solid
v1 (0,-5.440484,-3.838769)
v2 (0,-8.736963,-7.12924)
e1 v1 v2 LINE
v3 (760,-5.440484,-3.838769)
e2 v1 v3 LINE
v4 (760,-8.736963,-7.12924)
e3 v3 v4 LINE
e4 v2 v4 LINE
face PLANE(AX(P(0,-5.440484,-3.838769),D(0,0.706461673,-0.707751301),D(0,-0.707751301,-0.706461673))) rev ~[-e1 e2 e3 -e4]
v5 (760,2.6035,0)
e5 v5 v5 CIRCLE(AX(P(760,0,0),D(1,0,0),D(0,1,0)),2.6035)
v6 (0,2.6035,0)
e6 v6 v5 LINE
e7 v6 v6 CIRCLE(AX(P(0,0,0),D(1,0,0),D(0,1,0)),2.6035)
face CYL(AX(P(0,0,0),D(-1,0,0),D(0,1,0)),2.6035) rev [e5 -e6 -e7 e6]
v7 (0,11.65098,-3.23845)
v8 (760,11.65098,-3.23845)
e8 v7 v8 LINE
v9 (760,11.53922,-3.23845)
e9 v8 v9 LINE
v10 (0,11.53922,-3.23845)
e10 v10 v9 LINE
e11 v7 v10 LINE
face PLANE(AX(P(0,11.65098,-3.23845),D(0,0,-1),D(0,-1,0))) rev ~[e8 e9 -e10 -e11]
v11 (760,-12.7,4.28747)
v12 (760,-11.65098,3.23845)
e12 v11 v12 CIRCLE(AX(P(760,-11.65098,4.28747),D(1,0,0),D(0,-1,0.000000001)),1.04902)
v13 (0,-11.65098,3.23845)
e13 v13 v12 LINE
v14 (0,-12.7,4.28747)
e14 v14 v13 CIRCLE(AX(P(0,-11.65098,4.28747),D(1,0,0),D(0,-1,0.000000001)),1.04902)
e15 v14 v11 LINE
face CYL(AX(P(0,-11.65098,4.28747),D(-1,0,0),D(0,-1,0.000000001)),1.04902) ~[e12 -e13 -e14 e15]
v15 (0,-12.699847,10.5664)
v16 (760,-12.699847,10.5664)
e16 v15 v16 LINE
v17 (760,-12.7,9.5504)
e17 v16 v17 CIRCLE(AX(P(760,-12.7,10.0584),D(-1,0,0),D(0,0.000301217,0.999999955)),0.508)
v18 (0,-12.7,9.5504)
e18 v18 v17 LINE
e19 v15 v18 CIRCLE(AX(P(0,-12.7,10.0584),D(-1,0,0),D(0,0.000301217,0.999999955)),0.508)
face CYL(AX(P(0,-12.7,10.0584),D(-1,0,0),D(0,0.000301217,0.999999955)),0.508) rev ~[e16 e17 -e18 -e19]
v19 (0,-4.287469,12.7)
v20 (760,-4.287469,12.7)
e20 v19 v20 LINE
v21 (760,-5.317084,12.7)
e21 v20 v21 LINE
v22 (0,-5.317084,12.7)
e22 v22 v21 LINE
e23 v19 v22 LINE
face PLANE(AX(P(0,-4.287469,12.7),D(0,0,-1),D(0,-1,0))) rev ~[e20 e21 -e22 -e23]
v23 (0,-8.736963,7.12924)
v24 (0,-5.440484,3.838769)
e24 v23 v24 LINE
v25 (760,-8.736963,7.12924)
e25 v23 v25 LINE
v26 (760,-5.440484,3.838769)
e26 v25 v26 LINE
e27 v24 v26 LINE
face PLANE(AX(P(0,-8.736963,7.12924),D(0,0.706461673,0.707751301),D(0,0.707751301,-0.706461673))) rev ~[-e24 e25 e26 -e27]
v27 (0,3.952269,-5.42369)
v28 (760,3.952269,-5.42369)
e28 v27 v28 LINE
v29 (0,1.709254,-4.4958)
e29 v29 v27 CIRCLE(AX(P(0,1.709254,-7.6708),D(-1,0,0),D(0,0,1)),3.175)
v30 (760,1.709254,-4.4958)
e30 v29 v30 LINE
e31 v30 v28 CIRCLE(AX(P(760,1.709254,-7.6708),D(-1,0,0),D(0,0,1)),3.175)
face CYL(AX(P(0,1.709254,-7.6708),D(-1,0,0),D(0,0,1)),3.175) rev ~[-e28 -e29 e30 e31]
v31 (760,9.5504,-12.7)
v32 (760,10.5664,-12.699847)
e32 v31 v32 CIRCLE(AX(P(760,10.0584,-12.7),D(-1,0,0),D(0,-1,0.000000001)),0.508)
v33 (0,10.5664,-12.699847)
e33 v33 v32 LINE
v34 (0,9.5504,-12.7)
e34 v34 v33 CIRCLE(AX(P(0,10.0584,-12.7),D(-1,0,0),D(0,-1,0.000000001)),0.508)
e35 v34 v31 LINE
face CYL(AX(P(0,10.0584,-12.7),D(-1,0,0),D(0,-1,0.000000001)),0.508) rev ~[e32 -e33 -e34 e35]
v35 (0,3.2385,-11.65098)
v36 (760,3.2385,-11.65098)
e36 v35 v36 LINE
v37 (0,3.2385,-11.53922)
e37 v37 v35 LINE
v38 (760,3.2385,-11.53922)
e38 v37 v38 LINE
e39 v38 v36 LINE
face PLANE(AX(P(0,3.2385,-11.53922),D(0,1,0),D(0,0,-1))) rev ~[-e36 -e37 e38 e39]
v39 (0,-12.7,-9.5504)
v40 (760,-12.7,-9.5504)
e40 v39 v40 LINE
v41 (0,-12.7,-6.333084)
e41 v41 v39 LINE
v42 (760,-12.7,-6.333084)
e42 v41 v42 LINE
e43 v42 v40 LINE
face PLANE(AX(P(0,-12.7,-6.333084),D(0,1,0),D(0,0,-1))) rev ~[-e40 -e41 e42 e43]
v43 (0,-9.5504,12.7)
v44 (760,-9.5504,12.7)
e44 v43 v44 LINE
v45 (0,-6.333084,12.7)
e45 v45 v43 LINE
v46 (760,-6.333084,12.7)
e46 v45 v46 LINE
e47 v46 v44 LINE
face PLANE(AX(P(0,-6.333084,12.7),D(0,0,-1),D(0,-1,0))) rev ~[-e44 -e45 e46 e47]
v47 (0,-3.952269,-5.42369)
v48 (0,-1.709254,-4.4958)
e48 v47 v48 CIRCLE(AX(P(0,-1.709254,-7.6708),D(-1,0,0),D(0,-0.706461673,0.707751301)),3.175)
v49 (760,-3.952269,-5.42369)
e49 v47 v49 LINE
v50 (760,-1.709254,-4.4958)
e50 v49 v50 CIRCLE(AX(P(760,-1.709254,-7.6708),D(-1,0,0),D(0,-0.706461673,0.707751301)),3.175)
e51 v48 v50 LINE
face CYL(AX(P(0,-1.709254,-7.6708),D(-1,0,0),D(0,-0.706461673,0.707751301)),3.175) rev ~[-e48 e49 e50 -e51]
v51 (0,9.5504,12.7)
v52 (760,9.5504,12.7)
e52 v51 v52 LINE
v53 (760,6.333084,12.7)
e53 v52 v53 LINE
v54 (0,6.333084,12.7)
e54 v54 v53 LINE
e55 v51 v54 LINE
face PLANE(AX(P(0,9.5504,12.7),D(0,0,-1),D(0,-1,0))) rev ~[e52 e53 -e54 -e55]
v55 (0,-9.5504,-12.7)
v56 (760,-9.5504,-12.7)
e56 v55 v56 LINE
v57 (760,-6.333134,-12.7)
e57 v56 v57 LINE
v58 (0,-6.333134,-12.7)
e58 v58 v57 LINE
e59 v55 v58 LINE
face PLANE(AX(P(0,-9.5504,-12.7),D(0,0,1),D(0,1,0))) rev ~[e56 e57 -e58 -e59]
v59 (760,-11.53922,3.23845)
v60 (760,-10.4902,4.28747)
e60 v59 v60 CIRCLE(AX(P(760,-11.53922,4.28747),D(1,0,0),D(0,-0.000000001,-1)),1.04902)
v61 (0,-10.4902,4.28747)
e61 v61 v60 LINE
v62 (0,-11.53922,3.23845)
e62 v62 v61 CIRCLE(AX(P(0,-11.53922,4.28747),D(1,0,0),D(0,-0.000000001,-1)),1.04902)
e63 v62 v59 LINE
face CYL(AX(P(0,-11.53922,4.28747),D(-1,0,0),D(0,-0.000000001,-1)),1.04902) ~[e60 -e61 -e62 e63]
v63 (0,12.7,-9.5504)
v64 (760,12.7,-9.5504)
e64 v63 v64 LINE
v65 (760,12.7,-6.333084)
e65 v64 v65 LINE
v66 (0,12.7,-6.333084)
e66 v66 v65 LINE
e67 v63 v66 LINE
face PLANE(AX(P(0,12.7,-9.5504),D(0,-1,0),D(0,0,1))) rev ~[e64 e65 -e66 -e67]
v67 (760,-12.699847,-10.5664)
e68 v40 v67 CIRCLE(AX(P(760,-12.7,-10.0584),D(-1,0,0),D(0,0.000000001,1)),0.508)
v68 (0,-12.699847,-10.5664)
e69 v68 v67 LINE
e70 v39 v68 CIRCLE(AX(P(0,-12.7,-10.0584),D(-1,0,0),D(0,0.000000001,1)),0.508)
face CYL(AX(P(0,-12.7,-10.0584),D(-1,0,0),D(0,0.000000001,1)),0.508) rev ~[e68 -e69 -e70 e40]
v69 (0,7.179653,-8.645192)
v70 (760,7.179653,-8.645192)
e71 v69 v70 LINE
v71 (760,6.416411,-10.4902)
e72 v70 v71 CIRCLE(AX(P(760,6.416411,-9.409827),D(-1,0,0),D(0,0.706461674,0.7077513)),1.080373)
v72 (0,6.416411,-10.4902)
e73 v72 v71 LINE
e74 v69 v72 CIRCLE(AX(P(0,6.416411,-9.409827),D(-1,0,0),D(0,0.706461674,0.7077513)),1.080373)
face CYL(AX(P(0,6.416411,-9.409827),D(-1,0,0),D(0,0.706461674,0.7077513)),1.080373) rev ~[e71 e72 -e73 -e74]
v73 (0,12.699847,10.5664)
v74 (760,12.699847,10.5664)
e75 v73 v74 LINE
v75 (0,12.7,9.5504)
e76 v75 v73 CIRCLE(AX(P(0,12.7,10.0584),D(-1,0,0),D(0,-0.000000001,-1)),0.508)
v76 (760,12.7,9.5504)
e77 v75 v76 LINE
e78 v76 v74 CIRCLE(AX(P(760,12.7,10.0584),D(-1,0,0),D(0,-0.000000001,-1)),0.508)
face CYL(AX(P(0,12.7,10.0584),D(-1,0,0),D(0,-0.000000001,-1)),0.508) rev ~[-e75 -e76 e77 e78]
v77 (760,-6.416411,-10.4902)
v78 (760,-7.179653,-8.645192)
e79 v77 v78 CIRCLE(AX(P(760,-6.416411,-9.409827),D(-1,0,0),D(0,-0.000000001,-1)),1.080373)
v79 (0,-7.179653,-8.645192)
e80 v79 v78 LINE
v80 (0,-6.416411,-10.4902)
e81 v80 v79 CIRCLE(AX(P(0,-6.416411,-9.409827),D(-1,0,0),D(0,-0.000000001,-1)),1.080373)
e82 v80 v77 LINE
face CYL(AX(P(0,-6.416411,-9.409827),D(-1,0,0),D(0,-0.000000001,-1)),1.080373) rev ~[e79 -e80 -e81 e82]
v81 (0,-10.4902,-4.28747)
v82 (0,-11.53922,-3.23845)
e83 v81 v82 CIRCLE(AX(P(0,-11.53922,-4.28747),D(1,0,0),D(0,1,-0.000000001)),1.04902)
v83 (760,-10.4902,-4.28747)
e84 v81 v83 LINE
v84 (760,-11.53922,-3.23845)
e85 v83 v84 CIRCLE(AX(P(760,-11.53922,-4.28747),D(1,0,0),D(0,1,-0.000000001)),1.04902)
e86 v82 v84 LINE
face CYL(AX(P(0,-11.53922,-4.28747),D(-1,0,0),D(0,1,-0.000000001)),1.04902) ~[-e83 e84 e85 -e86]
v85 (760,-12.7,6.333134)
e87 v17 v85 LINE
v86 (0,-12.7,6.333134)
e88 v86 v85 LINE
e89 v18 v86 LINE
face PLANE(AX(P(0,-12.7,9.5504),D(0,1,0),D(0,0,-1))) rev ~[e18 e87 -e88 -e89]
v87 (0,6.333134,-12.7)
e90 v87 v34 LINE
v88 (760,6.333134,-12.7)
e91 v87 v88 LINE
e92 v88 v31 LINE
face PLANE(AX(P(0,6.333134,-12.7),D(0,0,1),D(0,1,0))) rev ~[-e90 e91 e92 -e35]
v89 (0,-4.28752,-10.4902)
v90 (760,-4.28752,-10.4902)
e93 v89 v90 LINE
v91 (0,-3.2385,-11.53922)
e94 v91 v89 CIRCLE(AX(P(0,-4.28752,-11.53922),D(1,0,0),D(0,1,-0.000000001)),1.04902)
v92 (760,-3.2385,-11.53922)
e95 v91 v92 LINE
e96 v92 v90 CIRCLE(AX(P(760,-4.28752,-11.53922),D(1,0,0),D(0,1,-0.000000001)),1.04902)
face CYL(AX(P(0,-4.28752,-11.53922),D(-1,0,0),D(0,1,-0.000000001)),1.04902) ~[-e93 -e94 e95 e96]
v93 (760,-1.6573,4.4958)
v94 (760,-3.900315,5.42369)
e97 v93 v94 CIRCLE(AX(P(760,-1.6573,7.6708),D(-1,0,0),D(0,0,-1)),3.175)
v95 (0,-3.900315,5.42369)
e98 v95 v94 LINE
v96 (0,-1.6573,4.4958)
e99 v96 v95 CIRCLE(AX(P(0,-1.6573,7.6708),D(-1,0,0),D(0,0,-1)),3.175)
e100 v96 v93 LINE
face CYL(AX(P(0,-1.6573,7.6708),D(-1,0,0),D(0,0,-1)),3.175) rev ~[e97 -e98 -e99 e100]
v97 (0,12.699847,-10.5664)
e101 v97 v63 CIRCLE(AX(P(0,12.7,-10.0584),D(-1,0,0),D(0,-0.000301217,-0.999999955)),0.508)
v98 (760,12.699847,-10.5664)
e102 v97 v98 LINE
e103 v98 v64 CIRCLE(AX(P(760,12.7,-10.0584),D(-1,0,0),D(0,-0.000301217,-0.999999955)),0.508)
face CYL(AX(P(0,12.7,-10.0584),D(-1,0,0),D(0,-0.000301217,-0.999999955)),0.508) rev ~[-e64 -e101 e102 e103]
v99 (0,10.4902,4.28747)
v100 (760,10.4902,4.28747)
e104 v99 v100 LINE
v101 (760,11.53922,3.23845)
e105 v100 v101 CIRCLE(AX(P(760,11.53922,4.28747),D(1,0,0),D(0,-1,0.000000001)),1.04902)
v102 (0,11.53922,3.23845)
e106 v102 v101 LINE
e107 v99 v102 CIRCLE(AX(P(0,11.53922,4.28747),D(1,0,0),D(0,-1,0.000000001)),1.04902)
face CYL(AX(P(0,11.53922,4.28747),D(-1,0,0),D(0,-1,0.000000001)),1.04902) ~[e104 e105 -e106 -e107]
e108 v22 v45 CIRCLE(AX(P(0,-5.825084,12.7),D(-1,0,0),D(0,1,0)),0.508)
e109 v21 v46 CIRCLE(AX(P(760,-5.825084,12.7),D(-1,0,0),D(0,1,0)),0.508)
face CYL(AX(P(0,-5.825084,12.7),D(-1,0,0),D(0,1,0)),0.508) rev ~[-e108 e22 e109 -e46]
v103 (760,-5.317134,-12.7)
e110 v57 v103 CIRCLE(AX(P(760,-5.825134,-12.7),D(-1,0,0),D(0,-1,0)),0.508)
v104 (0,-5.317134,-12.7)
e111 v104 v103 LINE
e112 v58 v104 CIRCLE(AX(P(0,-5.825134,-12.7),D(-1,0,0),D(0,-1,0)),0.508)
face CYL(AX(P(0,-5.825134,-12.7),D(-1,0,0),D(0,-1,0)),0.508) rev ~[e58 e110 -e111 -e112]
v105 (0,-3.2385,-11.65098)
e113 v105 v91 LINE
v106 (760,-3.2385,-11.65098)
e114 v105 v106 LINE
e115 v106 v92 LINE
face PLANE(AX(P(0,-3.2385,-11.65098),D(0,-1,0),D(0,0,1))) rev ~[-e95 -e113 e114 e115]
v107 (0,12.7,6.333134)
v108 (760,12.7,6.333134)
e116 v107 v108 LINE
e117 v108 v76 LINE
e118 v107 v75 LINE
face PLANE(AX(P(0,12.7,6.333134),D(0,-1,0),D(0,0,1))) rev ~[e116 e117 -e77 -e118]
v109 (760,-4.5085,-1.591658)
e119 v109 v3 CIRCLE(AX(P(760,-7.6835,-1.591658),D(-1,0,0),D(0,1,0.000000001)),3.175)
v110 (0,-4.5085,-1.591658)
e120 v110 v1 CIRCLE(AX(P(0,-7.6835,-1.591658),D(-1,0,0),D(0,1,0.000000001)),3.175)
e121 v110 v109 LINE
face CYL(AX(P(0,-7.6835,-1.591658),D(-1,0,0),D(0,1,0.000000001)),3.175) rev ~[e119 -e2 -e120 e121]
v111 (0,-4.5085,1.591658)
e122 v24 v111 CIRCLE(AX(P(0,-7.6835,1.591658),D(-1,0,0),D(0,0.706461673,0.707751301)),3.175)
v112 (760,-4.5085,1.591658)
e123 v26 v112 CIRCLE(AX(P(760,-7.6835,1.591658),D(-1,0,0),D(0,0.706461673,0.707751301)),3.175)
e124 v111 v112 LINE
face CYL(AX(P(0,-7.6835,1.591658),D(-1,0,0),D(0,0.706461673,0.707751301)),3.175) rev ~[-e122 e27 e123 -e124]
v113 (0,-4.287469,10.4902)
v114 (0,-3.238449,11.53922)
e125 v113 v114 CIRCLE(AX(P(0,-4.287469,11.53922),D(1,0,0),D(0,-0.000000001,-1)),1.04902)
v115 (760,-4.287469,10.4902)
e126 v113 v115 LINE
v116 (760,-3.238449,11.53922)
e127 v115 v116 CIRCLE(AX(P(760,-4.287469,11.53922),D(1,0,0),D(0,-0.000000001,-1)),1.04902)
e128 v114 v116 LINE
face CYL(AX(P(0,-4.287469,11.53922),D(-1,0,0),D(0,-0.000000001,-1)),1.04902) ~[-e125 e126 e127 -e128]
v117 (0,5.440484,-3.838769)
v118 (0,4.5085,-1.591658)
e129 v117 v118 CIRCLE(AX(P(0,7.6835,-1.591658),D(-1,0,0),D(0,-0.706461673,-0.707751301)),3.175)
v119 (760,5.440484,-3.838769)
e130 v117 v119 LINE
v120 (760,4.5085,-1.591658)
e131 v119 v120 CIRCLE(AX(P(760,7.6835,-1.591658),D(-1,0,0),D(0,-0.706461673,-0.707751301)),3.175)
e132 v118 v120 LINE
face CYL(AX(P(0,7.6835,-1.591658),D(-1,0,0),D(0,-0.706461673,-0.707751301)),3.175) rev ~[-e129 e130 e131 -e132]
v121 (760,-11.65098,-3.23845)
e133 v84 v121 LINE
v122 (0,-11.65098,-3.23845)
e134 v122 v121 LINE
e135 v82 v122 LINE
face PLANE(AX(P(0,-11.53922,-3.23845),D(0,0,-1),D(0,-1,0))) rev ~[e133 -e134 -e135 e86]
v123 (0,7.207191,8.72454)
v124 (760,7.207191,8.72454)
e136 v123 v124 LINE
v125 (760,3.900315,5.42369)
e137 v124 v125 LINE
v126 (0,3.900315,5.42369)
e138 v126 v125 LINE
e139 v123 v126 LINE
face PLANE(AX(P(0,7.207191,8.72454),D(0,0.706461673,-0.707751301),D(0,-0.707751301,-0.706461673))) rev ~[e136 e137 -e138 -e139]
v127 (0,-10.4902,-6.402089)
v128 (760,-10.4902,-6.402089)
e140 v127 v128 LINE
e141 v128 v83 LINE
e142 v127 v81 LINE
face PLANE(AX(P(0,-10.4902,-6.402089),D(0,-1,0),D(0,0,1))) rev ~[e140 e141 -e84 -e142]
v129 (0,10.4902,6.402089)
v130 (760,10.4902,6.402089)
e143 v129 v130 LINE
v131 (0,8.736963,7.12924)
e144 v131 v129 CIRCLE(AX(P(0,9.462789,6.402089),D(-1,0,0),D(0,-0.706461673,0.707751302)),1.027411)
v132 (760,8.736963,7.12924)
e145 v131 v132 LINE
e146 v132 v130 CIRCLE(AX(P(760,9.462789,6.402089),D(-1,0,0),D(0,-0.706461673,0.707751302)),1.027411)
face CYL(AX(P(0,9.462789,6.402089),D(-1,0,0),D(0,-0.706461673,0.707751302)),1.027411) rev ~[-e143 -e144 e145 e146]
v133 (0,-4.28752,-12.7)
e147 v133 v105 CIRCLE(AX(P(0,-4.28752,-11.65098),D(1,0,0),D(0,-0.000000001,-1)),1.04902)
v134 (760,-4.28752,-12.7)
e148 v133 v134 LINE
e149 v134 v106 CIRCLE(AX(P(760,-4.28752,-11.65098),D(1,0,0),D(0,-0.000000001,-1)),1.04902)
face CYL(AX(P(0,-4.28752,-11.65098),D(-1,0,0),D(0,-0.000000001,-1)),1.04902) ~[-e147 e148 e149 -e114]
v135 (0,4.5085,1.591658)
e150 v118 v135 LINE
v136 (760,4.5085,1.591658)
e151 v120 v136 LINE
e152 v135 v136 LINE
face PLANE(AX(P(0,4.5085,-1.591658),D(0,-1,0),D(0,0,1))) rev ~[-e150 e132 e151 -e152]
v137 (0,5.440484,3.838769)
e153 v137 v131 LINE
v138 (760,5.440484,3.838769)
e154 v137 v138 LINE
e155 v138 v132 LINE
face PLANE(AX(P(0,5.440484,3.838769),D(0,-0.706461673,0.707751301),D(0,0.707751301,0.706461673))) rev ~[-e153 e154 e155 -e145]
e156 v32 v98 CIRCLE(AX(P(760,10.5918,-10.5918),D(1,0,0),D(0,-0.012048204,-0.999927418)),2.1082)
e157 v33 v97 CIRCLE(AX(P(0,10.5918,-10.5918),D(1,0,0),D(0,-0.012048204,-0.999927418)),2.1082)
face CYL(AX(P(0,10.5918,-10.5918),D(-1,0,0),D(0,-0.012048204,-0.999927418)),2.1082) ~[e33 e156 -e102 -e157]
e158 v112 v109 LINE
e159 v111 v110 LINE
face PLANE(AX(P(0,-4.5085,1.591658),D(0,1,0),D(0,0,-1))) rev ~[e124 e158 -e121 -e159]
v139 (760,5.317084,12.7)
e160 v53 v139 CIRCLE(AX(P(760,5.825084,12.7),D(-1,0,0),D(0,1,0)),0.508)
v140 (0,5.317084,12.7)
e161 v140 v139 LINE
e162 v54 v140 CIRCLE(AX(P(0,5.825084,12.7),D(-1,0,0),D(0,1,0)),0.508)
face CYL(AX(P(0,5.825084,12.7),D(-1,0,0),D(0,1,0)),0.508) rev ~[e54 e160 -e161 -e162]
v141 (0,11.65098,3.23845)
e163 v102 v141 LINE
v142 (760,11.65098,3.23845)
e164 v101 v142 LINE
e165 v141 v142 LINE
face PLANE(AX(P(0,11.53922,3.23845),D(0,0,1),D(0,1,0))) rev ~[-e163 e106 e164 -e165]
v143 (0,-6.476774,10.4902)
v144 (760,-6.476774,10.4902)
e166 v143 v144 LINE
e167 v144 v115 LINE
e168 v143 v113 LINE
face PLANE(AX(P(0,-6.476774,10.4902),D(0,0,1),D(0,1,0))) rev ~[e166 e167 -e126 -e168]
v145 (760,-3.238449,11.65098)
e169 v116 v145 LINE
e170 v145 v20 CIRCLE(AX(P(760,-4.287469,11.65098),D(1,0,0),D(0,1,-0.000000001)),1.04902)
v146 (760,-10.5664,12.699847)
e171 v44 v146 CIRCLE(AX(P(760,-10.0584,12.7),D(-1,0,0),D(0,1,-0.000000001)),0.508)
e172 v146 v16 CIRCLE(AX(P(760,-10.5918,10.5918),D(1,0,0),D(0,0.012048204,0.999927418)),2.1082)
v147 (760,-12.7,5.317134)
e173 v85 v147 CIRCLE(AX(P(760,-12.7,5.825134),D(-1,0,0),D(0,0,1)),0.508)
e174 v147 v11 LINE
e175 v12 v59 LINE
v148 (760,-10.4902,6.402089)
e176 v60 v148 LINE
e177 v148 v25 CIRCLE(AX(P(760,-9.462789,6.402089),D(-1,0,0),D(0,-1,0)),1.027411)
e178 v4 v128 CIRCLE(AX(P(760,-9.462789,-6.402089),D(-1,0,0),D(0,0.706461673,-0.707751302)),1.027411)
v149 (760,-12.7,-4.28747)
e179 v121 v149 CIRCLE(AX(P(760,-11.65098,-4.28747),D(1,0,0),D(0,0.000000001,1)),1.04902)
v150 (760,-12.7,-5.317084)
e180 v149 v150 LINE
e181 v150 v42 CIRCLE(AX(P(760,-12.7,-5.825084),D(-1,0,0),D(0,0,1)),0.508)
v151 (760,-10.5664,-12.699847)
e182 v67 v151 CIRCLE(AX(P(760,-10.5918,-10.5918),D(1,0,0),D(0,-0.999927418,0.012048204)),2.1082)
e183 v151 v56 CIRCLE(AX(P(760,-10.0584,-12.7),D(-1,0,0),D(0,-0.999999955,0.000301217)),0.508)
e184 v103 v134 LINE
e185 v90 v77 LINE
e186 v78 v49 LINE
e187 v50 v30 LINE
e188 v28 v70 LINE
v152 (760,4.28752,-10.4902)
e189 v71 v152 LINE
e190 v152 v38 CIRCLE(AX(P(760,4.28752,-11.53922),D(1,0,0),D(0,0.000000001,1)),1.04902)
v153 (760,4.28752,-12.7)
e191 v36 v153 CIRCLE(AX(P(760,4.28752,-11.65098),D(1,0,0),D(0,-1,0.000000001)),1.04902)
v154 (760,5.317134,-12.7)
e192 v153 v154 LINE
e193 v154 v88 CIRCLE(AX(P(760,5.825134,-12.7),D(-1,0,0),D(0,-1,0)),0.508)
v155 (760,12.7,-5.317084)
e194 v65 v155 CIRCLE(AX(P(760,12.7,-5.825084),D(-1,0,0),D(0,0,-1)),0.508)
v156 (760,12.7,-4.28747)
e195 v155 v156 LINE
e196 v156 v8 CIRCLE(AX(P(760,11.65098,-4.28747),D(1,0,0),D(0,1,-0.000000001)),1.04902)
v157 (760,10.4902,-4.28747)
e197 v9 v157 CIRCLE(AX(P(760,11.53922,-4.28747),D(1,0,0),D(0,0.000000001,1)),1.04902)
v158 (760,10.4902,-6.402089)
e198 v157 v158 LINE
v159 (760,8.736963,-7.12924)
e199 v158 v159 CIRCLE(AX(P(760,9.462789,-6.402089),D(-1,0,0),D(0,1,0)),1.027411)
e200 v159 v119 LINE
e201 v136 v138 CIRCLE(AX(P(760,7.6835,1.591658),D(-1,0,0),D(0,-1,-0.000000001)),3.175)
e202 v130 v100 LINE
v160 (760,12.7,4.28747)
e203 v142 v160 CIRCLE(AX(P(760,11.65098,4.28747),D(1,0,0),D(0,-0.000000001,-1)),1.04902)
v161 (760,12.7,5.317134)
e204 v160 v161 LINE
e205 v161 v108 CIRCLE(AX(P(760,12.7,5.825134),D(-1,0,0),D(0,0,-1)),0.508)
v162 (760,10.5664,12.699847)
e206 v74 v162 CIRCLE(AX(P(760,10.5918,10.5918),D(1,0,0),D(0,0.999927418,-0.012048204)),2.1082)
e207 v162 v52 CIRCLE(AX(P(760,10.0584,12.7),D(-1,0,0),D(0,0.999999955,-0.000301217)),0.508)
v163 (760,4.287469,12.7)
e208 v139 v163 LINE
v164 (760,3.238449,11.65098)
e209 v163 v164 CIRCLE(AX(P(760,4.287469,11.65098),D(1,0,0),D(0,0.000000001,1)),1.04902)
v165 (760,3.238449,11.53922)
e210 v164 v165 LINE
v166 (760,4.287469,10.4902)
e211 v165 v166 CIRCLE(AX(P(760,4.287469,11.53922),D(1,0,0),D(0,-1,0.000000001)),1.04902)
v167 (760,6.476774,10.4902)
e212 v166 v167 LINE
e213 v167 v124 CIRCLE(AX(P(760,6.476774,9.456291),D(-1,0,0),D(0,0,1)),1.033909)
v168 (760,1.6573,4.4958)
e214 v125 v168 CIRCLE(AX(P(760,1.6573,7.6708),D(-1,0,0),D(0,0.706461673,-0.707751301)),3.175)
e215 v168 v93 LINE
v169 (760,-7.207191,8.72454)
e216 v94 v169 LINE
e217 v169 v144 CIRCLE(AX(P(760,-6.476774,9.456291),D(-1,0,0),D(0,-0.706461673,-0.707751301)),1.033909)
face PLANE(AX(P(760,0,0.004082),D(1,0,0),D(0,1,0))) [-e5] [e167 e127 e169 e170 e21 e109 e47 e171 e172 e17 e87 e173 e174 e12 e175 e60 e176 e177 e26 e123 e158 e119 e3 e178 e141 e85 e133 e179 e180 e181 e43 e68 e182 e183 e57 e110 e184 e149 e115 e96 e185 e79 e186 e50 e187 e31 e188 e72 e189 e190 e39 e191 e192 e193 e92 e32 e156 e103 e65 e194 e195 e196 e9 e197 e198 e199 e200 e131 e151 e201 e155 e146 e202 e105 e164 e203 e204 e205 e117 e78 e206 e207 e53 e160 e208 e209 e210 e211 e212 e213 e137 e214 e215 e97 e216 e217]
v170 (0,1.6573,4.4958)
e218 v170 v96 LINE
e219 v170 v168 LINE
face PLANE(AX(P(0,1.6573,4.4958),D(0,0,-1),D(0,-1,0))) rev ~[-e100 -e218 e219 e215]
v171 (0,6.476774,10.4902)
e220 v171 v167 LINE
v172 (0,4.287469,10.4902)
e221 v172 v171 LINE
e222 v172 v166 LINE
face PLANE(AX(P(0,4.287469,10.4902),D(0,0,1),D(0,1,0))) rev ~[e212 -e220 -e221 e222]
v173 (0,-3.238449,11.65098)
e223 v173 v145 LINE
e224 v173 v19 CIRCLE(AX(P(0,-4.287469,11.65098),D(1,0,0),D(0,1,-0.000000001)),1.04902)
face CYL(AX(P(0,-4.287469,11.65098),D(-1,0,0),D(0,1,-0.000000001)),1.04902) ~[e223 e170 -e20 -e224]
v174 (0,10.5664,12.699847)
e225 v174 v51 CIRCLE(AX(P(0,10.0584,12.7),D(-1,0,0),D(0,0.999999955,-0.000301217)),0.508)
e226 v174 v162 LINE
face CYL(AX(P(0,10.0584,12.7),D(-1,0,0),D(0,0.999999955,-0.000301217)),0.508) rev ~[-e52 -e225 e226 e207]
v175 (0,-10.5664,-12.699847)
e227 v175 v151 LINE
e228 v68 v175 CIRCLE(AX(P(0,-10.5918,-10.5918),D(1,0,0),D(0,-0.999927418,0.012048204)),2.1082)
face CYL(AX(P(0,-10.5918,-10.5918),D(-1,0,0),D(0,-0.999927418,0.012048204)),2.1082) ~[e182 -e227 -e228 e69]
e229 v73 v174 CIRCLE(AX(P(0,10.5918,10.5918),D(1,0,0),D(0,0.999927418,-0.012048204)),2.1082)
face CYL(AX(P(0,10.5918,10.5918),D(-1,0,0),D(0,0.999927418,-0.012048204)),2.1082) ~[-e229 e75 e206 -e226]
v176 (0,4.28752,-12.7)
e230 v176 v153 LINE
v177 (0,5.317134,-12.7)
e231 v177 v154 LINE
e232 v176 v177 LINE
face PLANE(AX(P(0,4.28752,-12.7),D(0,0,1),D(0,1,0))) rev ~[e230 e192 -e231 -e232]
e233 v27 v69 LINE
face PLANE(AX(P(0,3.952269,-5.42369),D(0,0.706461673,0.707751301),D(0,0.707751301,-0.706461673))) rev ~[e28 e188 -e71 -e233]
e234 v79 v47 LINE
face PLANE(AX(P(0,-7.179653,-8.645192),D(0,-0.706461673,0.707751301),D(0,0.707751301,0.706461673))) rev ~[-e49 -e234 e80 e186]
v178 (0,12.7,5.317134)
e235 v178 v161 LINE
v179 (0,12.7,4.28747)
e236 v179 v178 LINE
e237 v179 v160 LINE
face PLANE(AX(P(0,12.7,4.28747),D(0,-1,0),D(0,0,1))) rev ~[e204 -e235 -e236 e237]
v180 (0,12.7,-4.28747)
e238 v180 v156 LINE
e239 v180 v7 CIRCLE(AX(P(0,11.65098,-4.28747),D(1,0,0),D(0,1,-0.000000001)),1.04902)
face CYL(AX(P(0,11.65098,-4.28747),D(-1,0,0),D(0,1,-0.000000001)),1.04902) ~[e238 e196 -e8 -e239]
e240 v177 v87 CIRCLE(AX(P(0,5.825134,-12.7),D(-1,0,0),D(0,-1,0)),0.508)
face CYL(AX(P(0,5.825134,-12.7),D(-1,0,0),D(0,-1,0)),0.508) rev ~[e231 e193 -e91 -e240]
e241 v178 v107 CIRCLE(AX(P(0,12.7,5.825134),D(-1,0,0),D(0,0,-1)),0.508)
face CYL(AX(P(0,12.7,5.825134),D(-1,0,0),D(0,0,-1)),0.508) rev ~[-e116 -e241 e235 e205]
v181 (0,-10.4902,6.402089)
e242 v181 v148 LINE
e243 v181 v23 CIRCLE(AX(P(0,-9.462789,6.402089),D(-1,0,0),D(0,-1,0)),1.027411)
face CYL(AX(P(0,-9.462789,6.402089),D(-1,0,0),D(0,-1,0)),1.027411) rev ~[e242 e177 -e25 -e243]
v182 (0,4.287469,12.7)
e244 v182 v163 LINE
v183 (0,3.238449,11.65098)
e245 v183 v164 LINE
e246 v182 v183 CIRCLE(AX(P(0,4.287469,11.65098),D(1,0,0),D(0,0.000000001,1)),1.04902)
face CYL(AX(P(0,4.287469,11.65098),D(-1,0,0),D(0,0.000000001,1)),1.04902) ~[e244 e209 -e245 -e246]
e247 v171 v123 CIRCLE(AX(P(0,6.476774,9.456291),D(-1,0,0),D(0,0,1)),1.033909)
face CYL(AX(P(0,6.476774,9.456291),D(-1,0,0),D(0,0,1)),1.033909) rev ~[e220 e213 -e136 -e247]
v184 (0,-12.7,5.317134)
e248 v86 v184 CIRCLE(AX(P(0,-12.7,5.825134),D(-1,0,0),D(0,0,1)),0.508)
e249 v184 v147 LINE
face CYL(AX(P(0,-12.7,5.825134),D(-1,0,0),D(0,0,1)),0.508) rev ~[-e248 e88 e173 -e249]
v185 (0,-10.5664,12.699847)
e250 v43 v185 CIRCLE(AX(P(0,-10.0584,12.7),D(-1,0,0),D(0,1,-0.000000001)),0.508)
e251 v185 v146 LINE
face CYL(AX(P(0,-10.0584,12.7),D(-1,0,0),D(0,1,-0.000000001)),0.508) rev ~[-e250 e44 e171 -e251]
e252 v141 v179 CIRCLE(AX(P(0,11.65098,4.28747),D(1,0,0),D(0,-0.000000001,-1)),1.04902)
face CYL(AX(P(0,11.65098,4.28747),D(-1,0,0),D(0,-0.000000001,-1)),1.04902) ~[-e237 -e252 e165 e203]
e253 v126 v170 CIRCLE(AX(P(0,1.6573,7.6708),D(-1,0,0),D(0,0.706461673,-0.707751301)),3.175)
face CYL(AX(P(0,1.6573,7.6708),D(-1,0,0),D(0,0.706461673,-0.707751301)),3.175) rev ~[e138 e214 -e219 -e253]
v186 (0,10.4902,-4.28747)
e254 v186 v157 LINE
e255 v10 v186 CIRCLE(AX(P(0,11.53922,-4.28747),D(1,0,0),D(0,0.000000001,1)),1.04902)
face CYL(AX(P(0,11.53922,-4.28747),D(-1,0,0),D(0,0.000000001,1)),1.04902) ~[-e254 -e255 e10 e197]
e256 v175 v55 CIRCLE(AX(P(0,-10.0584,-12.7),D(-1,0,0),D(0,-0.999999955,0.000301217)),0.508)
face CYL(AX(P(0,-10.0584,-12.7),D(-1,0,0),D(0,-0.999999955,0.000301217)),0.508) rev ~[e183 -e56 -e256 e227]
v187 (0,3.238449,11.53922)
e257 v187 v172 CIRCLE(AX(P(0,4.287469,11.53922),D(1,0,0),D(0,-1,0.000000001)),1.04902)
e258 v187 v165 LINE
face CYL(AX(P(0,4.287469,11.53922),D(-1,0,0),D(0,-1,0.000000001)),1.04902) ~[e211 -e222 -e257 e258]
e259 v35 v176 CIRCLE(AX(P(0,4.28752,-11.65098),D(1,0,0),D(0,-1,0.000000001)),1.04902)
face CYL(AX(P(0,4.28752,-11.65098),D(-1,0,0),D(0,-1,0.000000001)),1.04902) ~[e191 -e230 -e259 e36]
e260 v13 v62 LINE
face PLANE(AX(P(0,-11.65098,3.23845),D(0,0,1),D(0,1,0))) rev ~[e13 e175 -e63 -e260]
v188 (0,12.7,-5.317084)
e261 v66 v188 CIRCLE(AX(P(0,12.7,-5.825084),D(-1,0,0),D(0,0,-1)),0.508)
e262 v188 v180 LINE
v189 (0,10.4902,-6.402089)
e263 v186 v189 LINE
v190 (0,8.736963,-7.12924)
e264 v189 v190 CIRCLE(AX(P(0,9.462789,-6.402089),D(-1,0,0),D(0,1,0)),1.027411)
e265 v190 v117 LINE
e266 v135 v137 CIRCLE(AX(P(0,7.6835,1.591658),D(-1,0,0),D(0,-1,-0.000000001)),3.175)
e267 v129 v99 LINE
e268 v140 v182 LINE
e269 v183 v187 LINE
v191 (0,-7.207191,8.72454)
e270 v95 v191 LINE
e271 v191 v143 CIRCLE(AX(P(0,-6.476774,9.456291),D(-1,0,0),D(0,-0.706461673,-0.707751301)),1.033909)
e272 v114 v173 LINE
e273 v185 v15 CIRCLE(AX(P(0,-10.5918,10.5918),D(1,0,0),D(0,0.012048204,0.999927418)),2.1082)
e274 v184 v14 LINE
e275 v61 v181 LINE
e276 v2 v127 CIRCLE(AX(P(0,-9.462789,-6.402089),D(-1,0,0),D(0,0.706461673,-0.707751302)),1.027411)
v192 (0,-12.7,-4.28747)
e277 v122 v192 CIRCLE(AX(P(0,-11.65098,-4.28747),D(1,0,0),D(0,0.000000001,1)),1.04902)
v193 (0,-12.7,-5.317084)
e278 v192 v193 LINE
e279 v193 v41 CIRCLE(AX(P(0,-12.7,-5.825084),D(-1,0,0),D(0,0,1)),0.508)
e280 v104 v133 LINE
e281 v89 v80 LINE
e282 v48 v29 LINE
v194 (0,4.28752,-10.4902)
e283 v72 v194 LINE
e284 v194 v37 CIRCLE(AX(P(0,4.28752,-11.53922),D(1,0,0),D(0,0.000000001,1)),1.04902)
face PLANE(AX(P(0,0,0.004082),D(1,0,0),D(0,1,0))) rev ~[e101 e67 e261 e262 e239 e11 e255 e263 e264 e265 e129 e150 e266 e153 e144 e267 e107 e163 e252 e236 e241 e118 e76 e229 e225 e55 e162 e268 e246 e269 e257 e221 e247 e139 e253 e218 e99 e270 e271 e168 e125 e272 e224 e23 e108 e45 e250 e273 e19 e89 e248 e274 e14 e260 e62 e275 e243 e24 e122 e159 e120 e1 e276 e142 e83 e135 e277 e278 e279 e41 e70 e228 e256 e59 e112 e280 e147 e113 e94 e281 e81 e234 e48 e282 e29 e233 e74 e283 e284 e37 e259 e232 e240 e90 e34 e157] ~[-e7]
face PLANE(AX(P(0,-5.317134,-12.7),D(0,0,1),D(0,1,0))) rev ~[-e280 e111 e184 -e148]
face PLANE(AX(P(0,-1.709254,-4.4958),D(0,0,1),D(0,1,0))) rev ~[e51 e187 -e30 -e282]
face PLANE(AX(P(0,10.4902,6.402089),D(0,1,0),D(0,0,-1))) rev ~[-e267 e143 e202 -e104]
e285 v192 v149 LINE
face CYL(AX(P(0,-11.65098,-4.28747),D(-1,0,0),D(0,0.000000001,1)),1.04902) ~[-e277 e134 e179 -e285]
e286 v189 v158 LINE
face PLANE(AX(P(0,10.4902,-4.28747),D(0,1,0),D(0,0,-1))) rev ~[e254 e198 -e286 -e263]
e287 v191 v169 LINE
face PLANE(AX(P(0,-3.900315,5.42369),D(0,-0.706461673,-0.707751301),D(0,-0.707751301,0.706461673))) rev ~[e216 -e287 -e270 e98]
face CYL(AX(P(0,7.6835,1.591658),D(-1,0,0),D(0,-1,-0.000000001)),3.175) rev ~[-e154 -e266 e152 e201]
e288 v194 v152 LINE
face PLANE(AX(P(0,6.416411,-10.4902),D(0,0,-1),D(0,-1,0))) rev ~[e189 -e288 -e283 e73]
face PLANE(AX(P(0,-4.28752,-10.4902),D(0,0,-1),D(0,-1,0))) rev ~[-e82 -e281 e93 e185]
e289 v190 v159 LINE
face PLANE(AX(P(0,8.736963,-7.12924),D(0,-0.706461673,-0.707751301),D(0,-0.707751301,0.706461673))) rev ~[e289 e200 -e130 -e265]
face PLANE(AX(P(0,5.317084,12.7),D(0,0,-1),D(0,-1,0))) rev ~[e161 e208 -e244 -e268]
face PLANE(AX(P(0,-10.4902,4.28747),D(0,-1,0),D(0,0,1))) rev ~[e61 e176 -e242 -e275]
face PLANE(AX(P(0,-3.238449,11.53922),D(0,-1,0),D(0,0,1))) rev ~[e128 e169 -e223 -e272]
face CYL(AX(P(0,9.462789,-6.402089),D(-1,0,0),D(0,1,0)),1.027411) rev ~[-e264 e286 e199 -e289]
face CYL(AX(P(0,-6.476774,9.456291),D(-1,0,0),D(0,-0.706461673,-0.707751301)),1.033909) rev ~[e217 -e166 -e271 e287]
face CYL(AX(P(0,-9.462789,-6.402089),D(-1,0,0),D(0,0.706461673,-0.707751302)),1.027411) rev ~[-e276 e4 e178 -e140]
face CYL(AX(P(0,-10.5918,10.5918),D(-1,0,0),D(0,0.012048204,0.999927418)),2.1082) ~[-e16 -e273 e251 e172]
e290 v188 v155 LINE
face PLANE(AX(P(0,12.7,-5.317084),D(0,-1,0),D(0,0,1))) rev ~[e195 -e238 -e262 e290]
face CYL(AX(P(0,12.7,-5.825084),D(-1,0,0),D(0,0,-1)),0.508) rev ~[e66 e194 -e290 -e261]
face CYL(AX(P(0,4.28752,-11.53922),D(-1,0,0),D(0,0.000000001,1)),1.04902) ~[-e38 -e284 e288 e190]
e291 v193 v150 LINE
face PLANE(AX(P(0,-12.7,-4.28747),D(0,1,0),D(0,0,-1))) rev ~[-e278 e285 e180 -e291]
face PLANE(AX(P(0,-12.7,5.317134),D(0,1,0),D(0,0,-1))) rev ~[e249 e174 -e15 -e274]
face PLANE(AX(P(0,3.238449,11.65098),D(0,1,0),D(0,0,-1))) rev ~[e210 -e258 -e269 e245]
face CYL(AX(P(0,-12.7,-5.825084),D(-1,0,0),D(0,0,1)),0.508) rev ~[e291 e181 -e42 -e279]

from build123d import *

# Parameters (mm, degrees)
SKETCH11_R                     = 2.6035
EXTRUSION_1010_PROFILE_1_DEPTH = 760


with BuildPart() as part:
    # Sketch11 → Extrusion 1010 PROFILE(1) (new body)
    with BuildSketch(Plane.YZ):
        with BuildLine():
            Line((-1.709253557, -4.4958), (1.709253557, -4.4958))
            ThreePointArc((1.709253557, -4.4958), (2.922935876, -4.736928798), (3.95226937, -5.423689619))
            Line((3.95226937, -5.423689619), (7.179652728, -8.645192207))
            ThreePointArc((7.179652728, -8.645192207), (7.414733441, -9.822812921), (6.41641086, -10.4902))
            Line((6.41641086, -10.4902), (4.28752, -10.4902))
            ThreePointArc((4.28752, -10.4902), (3.545750844, -10.797450844), (3.2385, -11.53922))
            Line((3.2385, -11.53922), (3.2385, -11.65098))
            ThreePointArc((3.2385, -11.65098), (3.545750844, -12.392749156), (4.28752, -12.7))
            Line((4.28752, -12.7), (5.3171344, -12.7))
            ThreePointArc((5.3171344, -12.7), (5.8251344, -12.192), (6.3331344, -12.7))
            Line((6.3331344, -12.7), (9.5504, -12.7))
            ThreePointArc((9.5504, -12.7), (10.058323491, -12.192000006), (10.566399977, -12.699846982))
            ThreePointArc((10.566399977, -12.699846982), (12.082522516, -12.082522516), (12.699846982, -10.566399977))
            ThreePointArc((12.699846982, -10.566399977), (12.192000006, -10.058323491), (12.7, -9.5504))
            Line((12.7, -9.5504), (12.7, -6.3330836))
            ThreePointArc((12.7, -6.3330836), (12.192, -5.8250836), (12.7, -5.3170836))
            Line((12.7, -5.3170836), (12.7, -4.287470133))
            ThreePointArc((12.7, -4.287470133), (12.392749156, -3.545700977), (11.65098, -3.238450133))
            Line((11.65098, -3.238450133), (11.53922, -3.238450133))
            ThreePointArc((11.53922, -3.238450133), (10.797450844, -3.545700977), (10.4902, -4.287470133))
            Line((10.4902, -4.287470133), (10.4902, -6.402089023))
            ThreePointArc((10.4902, -6.402089023), (9.856394933, -7.351113629), (8.736962546, -7.129240479))
            Line((8.736962546, -7.129240479), (5.440484187, -3.838768792))
            ThreePointArc((5.440484187, -3.838768792), (4.75073678, -2.808015636), (4.5085, -1.591658411))
            Line((4.5085, -1.591658411), (4.5085, 1.591658411))
            ThreePointArc((4.5085, 1.591658411), (4.75073678, 2.808015636), (5.440484187, 3.838768792))
            Line((5.440484187, 3.838768792), (8.736962546, 7.129240479))
            ThreePointArc((8.736962546, 7.129240479), (9.856394933, 7.351113629), (10.4902, 6.402089023))
            Line((10.4902, 6.402089023), (10.4902, 4.287470133))
            ThreePointArc((10.4902, 4.287470133), (10.797450844, 3.545700977), (11.53922, 3.238450133))
            Line((11.53922, 3.238450133), (11.65098, 3.238450133))
            ThreePointArc((11.65098, 3.238450133), (12.392749156, 3.545700977), (12.7, 4.287470133))
            Line((12.7, 4.287470133), (12.7, 5.3171344))
            ThreePointArc((12.7, 5.3171344), (12.192, 5.8251344), (12.7, 6.3331344))
            Line((12.7, 6.3331344), (12.7, 9.5504))
            ThreePointArc((12.7, 9.5504), (12.192000006, 10.058323491), (12.699846982, 10.566399977))
            ThreePointArc((12.699846982, 10.566399977), (12.082522516, 12.082522516), (10.566399977, 12.699846982))
            ThreePointArc((10.566399977, 12.699846982), (10.058323491, 12.192000006), (9.5504, 12.7))
            Line((9.5504, 12.7), (6.3330836, 12.7))
            ThreePointArc((6.3330836, 12.7), (5.8250836, 12.192), (5.3170836, 12.7))
            Line((5.3170836, 12.7), (4.2874692, 12.7))
            ThreePointArc((4.2874692, 12.7), (3.545700044, 12.392749156), (3.2384492, 11.65098))
            Line((3.2384492, 11.65098), (3.2384492, 11.53922))
            ThreePointArc((3.2384492, 11.53922), (3.545700044, 10.797450844), (4.2874692, 10.4902))
            Line((4.2874692, 10.4902), (6.476774195, 10.4902))
            ThreePointArc((6.476774195, 10.4902), (7.43216212, 9.851515102), (7.207191475, 8.724540082))
            Line((7.207191475, 8.724540082), (3.900315394, 5.423689619))
            ThreePointArc((3.900315394, 5.423689619), (2.8709819, 4.736928798), (1.657299581, 4.4958))
            Line((1.657299581, 4.4958), (-1.657299581, 4.4958))
            ThreePointArc((-1.657299581, 4.4958), (-2.8709819, 4.736928798), (-3.900315394, 5.423689619))
            Line((-3.900315394, 5.423689619), (-7.207191475, 8.724540082))
            ThreePointArc((-7.207191475, 8.724540082), (-7.43216212, 9.851515102), (-6.476774195, 10.4902))
            Line((-6.476774195, 10.4902), (-4.2874692, 10.4902))
            ThreePointArc((-4.2874692, 10.4902), (-3.545700044, 10.797450844), (-3.2384492, 11.53922))
            Line((-3.2384492, 11.53922), (-3.2384492, 11.65098))
            ThreePointArc((-3.2384492, 11.65098), (-3.545700044, 12.392749156), (-4.2874692, 12.7))
            Line((-4.2874692, 12.7), (-5.3170836, 12.7))
            ThreePointArc((-5.3170836, 12.7), (-5.8250836, 12.192), (-6.3330836, 12.7))
            Line((-6.3330836, 12.7), (-9.5504, 12.7))
            ThreePointArc((-9.5504, 12.7), (-10.058323491, 12.192000006), (-10.566399977, 12.699846982))
            ThreePointArc((-10.566399977, 12.699846982), (-12.082522516, 12.082522516), (-12.699846982, 10.566399977))
            ThreePointArc((-12.699846982, 10.566399977), (-12.192000006, 10.058323491), (-12.7, 9.5504))
            Line((-12.7, 9.5504), (-12.7, 6.3331344))
            ThreePointArc((-12.7, 6.3331344), (-12.192, 5.8251344), (-12.7, 5.3171344))
            Line((-12.7, 5.3171344), (-12.7, 4.287470133))
            ThreePointArc((-12.7, 4.287470133), (-12.392749156, 3.545700977), (-11.65098, 3.238450133))
            Line((-11.65098, 3.238450133), (-11.53922, 3.238450133))
            ThreePointArc((-11.53922, 3.238450133), (-10.797450844, 3.545700977), (-10.4902, 4.287470133))
            Line((-10.4902, 4.287470133), (-10.4902, 6.402089023))
            ThreePointArc((-10.4902, 6.402089023), (-9.856394933, 7.351113629), (-8.736962546, 7.129240479))
            Line((-8.736962546, 7.129240479), (-5.440484187, 3.838768792))
            ThreePointArc((-5.440484187, 3.838768792), (-4.75073678, 2.808015636), (-4.5085, 1.591658411))
            Line((-4.5085, 1.591658411), (-4.5085, -1.591658411))
            ThreePointArc((-4.5085, -1.591658411), (-4.75073678, -2.808015636), (-5.440484187, -3.838768792))
            Line((-5.440484187, -3.838768792), (-8.736962546, -7.129240479))
            ThreePointArc((-8.736962546, -7.129240479), (-9.856394933, -7.351113629), (-10.4902, -6.402089023))
            Line((-10.4902, -6.402089023), (-10.4902, -4.287470133))
            ThreePointArc((-10.4902, -4.287470133), (-10.797450844, -3.545700977), (-11.53922, -3.238450133))
            Line((-11.53922, -3.238450133), (-11.65098, -3.238450133))
            ThreePointArc((-11.65098, -3.238450133), (-12.392749156, -3.545700977), (-12.7, -4.287470133))
            Line((-12.7, -4.287470133), (-12.7, -5.3170836))
            ThreePointArc((-12.7, -5.3170836), (-12.192, -5.8250836), (-12.7, -6.3330836))
            Line((-12.7, -6.3330836), (-12.7, -9.5504))
            ThreePointArc((-12.7, -9.5504), (-12.192000006, -10.058323491), (-12.699846982, -10.566399977))
            ThreePointArc((-12.699846982, -10.566399977), (-12.082522516, -12.082522516), (-10.566399977, -12.699846982))
            ThreePointArc((-10.566399977, -12.699846982), (-10.058323491, -12.192000006), (-9.5504, -12.7))
            Line((-9.5504, -12.7), (-6.3331344, -12.7))
            ThreePointArc((-6.3331344, -12.7), (-5.8251344, -12.192), (-5.3171344, -12.7))
            Line((-5.3171344, -12.7), (-4.28752, -12.7))
            ThreePointArc((-4.28752, -12.7), (-3.545750844, -12.392749156), (-3.2385, -11.65098))
            Line((-3.2385, -11.65098), (-3.2385, -11.53922))
            ThreePointArc((-3.2385, -11.53922), (-3.545750844, -10.797450844), (-4.28752, -10.4902))
            Line((-4.28752, -10.4902), (-6.41641086, -10.4902))
            ThreePointArc((-6.41641086, -10.4902), (-7.414733441, -9.822812921), (-7.179652728, -8.645192207))
            Line((-7.179652728, -8.645192207), (-3.95226937, -5.423689619))
            ThreePointArc((-3.95226937, -5.423689619), (-2.922935876, -4.736928798), (-1.709253557, -4.4958))
        make_face()
        Circle(SKETCH11_R, mode=Mode.SUBTRACT)
    extrude(amount=EXTRUSION_1010_PROFILE_1_DEPTH)


solid = part.part
